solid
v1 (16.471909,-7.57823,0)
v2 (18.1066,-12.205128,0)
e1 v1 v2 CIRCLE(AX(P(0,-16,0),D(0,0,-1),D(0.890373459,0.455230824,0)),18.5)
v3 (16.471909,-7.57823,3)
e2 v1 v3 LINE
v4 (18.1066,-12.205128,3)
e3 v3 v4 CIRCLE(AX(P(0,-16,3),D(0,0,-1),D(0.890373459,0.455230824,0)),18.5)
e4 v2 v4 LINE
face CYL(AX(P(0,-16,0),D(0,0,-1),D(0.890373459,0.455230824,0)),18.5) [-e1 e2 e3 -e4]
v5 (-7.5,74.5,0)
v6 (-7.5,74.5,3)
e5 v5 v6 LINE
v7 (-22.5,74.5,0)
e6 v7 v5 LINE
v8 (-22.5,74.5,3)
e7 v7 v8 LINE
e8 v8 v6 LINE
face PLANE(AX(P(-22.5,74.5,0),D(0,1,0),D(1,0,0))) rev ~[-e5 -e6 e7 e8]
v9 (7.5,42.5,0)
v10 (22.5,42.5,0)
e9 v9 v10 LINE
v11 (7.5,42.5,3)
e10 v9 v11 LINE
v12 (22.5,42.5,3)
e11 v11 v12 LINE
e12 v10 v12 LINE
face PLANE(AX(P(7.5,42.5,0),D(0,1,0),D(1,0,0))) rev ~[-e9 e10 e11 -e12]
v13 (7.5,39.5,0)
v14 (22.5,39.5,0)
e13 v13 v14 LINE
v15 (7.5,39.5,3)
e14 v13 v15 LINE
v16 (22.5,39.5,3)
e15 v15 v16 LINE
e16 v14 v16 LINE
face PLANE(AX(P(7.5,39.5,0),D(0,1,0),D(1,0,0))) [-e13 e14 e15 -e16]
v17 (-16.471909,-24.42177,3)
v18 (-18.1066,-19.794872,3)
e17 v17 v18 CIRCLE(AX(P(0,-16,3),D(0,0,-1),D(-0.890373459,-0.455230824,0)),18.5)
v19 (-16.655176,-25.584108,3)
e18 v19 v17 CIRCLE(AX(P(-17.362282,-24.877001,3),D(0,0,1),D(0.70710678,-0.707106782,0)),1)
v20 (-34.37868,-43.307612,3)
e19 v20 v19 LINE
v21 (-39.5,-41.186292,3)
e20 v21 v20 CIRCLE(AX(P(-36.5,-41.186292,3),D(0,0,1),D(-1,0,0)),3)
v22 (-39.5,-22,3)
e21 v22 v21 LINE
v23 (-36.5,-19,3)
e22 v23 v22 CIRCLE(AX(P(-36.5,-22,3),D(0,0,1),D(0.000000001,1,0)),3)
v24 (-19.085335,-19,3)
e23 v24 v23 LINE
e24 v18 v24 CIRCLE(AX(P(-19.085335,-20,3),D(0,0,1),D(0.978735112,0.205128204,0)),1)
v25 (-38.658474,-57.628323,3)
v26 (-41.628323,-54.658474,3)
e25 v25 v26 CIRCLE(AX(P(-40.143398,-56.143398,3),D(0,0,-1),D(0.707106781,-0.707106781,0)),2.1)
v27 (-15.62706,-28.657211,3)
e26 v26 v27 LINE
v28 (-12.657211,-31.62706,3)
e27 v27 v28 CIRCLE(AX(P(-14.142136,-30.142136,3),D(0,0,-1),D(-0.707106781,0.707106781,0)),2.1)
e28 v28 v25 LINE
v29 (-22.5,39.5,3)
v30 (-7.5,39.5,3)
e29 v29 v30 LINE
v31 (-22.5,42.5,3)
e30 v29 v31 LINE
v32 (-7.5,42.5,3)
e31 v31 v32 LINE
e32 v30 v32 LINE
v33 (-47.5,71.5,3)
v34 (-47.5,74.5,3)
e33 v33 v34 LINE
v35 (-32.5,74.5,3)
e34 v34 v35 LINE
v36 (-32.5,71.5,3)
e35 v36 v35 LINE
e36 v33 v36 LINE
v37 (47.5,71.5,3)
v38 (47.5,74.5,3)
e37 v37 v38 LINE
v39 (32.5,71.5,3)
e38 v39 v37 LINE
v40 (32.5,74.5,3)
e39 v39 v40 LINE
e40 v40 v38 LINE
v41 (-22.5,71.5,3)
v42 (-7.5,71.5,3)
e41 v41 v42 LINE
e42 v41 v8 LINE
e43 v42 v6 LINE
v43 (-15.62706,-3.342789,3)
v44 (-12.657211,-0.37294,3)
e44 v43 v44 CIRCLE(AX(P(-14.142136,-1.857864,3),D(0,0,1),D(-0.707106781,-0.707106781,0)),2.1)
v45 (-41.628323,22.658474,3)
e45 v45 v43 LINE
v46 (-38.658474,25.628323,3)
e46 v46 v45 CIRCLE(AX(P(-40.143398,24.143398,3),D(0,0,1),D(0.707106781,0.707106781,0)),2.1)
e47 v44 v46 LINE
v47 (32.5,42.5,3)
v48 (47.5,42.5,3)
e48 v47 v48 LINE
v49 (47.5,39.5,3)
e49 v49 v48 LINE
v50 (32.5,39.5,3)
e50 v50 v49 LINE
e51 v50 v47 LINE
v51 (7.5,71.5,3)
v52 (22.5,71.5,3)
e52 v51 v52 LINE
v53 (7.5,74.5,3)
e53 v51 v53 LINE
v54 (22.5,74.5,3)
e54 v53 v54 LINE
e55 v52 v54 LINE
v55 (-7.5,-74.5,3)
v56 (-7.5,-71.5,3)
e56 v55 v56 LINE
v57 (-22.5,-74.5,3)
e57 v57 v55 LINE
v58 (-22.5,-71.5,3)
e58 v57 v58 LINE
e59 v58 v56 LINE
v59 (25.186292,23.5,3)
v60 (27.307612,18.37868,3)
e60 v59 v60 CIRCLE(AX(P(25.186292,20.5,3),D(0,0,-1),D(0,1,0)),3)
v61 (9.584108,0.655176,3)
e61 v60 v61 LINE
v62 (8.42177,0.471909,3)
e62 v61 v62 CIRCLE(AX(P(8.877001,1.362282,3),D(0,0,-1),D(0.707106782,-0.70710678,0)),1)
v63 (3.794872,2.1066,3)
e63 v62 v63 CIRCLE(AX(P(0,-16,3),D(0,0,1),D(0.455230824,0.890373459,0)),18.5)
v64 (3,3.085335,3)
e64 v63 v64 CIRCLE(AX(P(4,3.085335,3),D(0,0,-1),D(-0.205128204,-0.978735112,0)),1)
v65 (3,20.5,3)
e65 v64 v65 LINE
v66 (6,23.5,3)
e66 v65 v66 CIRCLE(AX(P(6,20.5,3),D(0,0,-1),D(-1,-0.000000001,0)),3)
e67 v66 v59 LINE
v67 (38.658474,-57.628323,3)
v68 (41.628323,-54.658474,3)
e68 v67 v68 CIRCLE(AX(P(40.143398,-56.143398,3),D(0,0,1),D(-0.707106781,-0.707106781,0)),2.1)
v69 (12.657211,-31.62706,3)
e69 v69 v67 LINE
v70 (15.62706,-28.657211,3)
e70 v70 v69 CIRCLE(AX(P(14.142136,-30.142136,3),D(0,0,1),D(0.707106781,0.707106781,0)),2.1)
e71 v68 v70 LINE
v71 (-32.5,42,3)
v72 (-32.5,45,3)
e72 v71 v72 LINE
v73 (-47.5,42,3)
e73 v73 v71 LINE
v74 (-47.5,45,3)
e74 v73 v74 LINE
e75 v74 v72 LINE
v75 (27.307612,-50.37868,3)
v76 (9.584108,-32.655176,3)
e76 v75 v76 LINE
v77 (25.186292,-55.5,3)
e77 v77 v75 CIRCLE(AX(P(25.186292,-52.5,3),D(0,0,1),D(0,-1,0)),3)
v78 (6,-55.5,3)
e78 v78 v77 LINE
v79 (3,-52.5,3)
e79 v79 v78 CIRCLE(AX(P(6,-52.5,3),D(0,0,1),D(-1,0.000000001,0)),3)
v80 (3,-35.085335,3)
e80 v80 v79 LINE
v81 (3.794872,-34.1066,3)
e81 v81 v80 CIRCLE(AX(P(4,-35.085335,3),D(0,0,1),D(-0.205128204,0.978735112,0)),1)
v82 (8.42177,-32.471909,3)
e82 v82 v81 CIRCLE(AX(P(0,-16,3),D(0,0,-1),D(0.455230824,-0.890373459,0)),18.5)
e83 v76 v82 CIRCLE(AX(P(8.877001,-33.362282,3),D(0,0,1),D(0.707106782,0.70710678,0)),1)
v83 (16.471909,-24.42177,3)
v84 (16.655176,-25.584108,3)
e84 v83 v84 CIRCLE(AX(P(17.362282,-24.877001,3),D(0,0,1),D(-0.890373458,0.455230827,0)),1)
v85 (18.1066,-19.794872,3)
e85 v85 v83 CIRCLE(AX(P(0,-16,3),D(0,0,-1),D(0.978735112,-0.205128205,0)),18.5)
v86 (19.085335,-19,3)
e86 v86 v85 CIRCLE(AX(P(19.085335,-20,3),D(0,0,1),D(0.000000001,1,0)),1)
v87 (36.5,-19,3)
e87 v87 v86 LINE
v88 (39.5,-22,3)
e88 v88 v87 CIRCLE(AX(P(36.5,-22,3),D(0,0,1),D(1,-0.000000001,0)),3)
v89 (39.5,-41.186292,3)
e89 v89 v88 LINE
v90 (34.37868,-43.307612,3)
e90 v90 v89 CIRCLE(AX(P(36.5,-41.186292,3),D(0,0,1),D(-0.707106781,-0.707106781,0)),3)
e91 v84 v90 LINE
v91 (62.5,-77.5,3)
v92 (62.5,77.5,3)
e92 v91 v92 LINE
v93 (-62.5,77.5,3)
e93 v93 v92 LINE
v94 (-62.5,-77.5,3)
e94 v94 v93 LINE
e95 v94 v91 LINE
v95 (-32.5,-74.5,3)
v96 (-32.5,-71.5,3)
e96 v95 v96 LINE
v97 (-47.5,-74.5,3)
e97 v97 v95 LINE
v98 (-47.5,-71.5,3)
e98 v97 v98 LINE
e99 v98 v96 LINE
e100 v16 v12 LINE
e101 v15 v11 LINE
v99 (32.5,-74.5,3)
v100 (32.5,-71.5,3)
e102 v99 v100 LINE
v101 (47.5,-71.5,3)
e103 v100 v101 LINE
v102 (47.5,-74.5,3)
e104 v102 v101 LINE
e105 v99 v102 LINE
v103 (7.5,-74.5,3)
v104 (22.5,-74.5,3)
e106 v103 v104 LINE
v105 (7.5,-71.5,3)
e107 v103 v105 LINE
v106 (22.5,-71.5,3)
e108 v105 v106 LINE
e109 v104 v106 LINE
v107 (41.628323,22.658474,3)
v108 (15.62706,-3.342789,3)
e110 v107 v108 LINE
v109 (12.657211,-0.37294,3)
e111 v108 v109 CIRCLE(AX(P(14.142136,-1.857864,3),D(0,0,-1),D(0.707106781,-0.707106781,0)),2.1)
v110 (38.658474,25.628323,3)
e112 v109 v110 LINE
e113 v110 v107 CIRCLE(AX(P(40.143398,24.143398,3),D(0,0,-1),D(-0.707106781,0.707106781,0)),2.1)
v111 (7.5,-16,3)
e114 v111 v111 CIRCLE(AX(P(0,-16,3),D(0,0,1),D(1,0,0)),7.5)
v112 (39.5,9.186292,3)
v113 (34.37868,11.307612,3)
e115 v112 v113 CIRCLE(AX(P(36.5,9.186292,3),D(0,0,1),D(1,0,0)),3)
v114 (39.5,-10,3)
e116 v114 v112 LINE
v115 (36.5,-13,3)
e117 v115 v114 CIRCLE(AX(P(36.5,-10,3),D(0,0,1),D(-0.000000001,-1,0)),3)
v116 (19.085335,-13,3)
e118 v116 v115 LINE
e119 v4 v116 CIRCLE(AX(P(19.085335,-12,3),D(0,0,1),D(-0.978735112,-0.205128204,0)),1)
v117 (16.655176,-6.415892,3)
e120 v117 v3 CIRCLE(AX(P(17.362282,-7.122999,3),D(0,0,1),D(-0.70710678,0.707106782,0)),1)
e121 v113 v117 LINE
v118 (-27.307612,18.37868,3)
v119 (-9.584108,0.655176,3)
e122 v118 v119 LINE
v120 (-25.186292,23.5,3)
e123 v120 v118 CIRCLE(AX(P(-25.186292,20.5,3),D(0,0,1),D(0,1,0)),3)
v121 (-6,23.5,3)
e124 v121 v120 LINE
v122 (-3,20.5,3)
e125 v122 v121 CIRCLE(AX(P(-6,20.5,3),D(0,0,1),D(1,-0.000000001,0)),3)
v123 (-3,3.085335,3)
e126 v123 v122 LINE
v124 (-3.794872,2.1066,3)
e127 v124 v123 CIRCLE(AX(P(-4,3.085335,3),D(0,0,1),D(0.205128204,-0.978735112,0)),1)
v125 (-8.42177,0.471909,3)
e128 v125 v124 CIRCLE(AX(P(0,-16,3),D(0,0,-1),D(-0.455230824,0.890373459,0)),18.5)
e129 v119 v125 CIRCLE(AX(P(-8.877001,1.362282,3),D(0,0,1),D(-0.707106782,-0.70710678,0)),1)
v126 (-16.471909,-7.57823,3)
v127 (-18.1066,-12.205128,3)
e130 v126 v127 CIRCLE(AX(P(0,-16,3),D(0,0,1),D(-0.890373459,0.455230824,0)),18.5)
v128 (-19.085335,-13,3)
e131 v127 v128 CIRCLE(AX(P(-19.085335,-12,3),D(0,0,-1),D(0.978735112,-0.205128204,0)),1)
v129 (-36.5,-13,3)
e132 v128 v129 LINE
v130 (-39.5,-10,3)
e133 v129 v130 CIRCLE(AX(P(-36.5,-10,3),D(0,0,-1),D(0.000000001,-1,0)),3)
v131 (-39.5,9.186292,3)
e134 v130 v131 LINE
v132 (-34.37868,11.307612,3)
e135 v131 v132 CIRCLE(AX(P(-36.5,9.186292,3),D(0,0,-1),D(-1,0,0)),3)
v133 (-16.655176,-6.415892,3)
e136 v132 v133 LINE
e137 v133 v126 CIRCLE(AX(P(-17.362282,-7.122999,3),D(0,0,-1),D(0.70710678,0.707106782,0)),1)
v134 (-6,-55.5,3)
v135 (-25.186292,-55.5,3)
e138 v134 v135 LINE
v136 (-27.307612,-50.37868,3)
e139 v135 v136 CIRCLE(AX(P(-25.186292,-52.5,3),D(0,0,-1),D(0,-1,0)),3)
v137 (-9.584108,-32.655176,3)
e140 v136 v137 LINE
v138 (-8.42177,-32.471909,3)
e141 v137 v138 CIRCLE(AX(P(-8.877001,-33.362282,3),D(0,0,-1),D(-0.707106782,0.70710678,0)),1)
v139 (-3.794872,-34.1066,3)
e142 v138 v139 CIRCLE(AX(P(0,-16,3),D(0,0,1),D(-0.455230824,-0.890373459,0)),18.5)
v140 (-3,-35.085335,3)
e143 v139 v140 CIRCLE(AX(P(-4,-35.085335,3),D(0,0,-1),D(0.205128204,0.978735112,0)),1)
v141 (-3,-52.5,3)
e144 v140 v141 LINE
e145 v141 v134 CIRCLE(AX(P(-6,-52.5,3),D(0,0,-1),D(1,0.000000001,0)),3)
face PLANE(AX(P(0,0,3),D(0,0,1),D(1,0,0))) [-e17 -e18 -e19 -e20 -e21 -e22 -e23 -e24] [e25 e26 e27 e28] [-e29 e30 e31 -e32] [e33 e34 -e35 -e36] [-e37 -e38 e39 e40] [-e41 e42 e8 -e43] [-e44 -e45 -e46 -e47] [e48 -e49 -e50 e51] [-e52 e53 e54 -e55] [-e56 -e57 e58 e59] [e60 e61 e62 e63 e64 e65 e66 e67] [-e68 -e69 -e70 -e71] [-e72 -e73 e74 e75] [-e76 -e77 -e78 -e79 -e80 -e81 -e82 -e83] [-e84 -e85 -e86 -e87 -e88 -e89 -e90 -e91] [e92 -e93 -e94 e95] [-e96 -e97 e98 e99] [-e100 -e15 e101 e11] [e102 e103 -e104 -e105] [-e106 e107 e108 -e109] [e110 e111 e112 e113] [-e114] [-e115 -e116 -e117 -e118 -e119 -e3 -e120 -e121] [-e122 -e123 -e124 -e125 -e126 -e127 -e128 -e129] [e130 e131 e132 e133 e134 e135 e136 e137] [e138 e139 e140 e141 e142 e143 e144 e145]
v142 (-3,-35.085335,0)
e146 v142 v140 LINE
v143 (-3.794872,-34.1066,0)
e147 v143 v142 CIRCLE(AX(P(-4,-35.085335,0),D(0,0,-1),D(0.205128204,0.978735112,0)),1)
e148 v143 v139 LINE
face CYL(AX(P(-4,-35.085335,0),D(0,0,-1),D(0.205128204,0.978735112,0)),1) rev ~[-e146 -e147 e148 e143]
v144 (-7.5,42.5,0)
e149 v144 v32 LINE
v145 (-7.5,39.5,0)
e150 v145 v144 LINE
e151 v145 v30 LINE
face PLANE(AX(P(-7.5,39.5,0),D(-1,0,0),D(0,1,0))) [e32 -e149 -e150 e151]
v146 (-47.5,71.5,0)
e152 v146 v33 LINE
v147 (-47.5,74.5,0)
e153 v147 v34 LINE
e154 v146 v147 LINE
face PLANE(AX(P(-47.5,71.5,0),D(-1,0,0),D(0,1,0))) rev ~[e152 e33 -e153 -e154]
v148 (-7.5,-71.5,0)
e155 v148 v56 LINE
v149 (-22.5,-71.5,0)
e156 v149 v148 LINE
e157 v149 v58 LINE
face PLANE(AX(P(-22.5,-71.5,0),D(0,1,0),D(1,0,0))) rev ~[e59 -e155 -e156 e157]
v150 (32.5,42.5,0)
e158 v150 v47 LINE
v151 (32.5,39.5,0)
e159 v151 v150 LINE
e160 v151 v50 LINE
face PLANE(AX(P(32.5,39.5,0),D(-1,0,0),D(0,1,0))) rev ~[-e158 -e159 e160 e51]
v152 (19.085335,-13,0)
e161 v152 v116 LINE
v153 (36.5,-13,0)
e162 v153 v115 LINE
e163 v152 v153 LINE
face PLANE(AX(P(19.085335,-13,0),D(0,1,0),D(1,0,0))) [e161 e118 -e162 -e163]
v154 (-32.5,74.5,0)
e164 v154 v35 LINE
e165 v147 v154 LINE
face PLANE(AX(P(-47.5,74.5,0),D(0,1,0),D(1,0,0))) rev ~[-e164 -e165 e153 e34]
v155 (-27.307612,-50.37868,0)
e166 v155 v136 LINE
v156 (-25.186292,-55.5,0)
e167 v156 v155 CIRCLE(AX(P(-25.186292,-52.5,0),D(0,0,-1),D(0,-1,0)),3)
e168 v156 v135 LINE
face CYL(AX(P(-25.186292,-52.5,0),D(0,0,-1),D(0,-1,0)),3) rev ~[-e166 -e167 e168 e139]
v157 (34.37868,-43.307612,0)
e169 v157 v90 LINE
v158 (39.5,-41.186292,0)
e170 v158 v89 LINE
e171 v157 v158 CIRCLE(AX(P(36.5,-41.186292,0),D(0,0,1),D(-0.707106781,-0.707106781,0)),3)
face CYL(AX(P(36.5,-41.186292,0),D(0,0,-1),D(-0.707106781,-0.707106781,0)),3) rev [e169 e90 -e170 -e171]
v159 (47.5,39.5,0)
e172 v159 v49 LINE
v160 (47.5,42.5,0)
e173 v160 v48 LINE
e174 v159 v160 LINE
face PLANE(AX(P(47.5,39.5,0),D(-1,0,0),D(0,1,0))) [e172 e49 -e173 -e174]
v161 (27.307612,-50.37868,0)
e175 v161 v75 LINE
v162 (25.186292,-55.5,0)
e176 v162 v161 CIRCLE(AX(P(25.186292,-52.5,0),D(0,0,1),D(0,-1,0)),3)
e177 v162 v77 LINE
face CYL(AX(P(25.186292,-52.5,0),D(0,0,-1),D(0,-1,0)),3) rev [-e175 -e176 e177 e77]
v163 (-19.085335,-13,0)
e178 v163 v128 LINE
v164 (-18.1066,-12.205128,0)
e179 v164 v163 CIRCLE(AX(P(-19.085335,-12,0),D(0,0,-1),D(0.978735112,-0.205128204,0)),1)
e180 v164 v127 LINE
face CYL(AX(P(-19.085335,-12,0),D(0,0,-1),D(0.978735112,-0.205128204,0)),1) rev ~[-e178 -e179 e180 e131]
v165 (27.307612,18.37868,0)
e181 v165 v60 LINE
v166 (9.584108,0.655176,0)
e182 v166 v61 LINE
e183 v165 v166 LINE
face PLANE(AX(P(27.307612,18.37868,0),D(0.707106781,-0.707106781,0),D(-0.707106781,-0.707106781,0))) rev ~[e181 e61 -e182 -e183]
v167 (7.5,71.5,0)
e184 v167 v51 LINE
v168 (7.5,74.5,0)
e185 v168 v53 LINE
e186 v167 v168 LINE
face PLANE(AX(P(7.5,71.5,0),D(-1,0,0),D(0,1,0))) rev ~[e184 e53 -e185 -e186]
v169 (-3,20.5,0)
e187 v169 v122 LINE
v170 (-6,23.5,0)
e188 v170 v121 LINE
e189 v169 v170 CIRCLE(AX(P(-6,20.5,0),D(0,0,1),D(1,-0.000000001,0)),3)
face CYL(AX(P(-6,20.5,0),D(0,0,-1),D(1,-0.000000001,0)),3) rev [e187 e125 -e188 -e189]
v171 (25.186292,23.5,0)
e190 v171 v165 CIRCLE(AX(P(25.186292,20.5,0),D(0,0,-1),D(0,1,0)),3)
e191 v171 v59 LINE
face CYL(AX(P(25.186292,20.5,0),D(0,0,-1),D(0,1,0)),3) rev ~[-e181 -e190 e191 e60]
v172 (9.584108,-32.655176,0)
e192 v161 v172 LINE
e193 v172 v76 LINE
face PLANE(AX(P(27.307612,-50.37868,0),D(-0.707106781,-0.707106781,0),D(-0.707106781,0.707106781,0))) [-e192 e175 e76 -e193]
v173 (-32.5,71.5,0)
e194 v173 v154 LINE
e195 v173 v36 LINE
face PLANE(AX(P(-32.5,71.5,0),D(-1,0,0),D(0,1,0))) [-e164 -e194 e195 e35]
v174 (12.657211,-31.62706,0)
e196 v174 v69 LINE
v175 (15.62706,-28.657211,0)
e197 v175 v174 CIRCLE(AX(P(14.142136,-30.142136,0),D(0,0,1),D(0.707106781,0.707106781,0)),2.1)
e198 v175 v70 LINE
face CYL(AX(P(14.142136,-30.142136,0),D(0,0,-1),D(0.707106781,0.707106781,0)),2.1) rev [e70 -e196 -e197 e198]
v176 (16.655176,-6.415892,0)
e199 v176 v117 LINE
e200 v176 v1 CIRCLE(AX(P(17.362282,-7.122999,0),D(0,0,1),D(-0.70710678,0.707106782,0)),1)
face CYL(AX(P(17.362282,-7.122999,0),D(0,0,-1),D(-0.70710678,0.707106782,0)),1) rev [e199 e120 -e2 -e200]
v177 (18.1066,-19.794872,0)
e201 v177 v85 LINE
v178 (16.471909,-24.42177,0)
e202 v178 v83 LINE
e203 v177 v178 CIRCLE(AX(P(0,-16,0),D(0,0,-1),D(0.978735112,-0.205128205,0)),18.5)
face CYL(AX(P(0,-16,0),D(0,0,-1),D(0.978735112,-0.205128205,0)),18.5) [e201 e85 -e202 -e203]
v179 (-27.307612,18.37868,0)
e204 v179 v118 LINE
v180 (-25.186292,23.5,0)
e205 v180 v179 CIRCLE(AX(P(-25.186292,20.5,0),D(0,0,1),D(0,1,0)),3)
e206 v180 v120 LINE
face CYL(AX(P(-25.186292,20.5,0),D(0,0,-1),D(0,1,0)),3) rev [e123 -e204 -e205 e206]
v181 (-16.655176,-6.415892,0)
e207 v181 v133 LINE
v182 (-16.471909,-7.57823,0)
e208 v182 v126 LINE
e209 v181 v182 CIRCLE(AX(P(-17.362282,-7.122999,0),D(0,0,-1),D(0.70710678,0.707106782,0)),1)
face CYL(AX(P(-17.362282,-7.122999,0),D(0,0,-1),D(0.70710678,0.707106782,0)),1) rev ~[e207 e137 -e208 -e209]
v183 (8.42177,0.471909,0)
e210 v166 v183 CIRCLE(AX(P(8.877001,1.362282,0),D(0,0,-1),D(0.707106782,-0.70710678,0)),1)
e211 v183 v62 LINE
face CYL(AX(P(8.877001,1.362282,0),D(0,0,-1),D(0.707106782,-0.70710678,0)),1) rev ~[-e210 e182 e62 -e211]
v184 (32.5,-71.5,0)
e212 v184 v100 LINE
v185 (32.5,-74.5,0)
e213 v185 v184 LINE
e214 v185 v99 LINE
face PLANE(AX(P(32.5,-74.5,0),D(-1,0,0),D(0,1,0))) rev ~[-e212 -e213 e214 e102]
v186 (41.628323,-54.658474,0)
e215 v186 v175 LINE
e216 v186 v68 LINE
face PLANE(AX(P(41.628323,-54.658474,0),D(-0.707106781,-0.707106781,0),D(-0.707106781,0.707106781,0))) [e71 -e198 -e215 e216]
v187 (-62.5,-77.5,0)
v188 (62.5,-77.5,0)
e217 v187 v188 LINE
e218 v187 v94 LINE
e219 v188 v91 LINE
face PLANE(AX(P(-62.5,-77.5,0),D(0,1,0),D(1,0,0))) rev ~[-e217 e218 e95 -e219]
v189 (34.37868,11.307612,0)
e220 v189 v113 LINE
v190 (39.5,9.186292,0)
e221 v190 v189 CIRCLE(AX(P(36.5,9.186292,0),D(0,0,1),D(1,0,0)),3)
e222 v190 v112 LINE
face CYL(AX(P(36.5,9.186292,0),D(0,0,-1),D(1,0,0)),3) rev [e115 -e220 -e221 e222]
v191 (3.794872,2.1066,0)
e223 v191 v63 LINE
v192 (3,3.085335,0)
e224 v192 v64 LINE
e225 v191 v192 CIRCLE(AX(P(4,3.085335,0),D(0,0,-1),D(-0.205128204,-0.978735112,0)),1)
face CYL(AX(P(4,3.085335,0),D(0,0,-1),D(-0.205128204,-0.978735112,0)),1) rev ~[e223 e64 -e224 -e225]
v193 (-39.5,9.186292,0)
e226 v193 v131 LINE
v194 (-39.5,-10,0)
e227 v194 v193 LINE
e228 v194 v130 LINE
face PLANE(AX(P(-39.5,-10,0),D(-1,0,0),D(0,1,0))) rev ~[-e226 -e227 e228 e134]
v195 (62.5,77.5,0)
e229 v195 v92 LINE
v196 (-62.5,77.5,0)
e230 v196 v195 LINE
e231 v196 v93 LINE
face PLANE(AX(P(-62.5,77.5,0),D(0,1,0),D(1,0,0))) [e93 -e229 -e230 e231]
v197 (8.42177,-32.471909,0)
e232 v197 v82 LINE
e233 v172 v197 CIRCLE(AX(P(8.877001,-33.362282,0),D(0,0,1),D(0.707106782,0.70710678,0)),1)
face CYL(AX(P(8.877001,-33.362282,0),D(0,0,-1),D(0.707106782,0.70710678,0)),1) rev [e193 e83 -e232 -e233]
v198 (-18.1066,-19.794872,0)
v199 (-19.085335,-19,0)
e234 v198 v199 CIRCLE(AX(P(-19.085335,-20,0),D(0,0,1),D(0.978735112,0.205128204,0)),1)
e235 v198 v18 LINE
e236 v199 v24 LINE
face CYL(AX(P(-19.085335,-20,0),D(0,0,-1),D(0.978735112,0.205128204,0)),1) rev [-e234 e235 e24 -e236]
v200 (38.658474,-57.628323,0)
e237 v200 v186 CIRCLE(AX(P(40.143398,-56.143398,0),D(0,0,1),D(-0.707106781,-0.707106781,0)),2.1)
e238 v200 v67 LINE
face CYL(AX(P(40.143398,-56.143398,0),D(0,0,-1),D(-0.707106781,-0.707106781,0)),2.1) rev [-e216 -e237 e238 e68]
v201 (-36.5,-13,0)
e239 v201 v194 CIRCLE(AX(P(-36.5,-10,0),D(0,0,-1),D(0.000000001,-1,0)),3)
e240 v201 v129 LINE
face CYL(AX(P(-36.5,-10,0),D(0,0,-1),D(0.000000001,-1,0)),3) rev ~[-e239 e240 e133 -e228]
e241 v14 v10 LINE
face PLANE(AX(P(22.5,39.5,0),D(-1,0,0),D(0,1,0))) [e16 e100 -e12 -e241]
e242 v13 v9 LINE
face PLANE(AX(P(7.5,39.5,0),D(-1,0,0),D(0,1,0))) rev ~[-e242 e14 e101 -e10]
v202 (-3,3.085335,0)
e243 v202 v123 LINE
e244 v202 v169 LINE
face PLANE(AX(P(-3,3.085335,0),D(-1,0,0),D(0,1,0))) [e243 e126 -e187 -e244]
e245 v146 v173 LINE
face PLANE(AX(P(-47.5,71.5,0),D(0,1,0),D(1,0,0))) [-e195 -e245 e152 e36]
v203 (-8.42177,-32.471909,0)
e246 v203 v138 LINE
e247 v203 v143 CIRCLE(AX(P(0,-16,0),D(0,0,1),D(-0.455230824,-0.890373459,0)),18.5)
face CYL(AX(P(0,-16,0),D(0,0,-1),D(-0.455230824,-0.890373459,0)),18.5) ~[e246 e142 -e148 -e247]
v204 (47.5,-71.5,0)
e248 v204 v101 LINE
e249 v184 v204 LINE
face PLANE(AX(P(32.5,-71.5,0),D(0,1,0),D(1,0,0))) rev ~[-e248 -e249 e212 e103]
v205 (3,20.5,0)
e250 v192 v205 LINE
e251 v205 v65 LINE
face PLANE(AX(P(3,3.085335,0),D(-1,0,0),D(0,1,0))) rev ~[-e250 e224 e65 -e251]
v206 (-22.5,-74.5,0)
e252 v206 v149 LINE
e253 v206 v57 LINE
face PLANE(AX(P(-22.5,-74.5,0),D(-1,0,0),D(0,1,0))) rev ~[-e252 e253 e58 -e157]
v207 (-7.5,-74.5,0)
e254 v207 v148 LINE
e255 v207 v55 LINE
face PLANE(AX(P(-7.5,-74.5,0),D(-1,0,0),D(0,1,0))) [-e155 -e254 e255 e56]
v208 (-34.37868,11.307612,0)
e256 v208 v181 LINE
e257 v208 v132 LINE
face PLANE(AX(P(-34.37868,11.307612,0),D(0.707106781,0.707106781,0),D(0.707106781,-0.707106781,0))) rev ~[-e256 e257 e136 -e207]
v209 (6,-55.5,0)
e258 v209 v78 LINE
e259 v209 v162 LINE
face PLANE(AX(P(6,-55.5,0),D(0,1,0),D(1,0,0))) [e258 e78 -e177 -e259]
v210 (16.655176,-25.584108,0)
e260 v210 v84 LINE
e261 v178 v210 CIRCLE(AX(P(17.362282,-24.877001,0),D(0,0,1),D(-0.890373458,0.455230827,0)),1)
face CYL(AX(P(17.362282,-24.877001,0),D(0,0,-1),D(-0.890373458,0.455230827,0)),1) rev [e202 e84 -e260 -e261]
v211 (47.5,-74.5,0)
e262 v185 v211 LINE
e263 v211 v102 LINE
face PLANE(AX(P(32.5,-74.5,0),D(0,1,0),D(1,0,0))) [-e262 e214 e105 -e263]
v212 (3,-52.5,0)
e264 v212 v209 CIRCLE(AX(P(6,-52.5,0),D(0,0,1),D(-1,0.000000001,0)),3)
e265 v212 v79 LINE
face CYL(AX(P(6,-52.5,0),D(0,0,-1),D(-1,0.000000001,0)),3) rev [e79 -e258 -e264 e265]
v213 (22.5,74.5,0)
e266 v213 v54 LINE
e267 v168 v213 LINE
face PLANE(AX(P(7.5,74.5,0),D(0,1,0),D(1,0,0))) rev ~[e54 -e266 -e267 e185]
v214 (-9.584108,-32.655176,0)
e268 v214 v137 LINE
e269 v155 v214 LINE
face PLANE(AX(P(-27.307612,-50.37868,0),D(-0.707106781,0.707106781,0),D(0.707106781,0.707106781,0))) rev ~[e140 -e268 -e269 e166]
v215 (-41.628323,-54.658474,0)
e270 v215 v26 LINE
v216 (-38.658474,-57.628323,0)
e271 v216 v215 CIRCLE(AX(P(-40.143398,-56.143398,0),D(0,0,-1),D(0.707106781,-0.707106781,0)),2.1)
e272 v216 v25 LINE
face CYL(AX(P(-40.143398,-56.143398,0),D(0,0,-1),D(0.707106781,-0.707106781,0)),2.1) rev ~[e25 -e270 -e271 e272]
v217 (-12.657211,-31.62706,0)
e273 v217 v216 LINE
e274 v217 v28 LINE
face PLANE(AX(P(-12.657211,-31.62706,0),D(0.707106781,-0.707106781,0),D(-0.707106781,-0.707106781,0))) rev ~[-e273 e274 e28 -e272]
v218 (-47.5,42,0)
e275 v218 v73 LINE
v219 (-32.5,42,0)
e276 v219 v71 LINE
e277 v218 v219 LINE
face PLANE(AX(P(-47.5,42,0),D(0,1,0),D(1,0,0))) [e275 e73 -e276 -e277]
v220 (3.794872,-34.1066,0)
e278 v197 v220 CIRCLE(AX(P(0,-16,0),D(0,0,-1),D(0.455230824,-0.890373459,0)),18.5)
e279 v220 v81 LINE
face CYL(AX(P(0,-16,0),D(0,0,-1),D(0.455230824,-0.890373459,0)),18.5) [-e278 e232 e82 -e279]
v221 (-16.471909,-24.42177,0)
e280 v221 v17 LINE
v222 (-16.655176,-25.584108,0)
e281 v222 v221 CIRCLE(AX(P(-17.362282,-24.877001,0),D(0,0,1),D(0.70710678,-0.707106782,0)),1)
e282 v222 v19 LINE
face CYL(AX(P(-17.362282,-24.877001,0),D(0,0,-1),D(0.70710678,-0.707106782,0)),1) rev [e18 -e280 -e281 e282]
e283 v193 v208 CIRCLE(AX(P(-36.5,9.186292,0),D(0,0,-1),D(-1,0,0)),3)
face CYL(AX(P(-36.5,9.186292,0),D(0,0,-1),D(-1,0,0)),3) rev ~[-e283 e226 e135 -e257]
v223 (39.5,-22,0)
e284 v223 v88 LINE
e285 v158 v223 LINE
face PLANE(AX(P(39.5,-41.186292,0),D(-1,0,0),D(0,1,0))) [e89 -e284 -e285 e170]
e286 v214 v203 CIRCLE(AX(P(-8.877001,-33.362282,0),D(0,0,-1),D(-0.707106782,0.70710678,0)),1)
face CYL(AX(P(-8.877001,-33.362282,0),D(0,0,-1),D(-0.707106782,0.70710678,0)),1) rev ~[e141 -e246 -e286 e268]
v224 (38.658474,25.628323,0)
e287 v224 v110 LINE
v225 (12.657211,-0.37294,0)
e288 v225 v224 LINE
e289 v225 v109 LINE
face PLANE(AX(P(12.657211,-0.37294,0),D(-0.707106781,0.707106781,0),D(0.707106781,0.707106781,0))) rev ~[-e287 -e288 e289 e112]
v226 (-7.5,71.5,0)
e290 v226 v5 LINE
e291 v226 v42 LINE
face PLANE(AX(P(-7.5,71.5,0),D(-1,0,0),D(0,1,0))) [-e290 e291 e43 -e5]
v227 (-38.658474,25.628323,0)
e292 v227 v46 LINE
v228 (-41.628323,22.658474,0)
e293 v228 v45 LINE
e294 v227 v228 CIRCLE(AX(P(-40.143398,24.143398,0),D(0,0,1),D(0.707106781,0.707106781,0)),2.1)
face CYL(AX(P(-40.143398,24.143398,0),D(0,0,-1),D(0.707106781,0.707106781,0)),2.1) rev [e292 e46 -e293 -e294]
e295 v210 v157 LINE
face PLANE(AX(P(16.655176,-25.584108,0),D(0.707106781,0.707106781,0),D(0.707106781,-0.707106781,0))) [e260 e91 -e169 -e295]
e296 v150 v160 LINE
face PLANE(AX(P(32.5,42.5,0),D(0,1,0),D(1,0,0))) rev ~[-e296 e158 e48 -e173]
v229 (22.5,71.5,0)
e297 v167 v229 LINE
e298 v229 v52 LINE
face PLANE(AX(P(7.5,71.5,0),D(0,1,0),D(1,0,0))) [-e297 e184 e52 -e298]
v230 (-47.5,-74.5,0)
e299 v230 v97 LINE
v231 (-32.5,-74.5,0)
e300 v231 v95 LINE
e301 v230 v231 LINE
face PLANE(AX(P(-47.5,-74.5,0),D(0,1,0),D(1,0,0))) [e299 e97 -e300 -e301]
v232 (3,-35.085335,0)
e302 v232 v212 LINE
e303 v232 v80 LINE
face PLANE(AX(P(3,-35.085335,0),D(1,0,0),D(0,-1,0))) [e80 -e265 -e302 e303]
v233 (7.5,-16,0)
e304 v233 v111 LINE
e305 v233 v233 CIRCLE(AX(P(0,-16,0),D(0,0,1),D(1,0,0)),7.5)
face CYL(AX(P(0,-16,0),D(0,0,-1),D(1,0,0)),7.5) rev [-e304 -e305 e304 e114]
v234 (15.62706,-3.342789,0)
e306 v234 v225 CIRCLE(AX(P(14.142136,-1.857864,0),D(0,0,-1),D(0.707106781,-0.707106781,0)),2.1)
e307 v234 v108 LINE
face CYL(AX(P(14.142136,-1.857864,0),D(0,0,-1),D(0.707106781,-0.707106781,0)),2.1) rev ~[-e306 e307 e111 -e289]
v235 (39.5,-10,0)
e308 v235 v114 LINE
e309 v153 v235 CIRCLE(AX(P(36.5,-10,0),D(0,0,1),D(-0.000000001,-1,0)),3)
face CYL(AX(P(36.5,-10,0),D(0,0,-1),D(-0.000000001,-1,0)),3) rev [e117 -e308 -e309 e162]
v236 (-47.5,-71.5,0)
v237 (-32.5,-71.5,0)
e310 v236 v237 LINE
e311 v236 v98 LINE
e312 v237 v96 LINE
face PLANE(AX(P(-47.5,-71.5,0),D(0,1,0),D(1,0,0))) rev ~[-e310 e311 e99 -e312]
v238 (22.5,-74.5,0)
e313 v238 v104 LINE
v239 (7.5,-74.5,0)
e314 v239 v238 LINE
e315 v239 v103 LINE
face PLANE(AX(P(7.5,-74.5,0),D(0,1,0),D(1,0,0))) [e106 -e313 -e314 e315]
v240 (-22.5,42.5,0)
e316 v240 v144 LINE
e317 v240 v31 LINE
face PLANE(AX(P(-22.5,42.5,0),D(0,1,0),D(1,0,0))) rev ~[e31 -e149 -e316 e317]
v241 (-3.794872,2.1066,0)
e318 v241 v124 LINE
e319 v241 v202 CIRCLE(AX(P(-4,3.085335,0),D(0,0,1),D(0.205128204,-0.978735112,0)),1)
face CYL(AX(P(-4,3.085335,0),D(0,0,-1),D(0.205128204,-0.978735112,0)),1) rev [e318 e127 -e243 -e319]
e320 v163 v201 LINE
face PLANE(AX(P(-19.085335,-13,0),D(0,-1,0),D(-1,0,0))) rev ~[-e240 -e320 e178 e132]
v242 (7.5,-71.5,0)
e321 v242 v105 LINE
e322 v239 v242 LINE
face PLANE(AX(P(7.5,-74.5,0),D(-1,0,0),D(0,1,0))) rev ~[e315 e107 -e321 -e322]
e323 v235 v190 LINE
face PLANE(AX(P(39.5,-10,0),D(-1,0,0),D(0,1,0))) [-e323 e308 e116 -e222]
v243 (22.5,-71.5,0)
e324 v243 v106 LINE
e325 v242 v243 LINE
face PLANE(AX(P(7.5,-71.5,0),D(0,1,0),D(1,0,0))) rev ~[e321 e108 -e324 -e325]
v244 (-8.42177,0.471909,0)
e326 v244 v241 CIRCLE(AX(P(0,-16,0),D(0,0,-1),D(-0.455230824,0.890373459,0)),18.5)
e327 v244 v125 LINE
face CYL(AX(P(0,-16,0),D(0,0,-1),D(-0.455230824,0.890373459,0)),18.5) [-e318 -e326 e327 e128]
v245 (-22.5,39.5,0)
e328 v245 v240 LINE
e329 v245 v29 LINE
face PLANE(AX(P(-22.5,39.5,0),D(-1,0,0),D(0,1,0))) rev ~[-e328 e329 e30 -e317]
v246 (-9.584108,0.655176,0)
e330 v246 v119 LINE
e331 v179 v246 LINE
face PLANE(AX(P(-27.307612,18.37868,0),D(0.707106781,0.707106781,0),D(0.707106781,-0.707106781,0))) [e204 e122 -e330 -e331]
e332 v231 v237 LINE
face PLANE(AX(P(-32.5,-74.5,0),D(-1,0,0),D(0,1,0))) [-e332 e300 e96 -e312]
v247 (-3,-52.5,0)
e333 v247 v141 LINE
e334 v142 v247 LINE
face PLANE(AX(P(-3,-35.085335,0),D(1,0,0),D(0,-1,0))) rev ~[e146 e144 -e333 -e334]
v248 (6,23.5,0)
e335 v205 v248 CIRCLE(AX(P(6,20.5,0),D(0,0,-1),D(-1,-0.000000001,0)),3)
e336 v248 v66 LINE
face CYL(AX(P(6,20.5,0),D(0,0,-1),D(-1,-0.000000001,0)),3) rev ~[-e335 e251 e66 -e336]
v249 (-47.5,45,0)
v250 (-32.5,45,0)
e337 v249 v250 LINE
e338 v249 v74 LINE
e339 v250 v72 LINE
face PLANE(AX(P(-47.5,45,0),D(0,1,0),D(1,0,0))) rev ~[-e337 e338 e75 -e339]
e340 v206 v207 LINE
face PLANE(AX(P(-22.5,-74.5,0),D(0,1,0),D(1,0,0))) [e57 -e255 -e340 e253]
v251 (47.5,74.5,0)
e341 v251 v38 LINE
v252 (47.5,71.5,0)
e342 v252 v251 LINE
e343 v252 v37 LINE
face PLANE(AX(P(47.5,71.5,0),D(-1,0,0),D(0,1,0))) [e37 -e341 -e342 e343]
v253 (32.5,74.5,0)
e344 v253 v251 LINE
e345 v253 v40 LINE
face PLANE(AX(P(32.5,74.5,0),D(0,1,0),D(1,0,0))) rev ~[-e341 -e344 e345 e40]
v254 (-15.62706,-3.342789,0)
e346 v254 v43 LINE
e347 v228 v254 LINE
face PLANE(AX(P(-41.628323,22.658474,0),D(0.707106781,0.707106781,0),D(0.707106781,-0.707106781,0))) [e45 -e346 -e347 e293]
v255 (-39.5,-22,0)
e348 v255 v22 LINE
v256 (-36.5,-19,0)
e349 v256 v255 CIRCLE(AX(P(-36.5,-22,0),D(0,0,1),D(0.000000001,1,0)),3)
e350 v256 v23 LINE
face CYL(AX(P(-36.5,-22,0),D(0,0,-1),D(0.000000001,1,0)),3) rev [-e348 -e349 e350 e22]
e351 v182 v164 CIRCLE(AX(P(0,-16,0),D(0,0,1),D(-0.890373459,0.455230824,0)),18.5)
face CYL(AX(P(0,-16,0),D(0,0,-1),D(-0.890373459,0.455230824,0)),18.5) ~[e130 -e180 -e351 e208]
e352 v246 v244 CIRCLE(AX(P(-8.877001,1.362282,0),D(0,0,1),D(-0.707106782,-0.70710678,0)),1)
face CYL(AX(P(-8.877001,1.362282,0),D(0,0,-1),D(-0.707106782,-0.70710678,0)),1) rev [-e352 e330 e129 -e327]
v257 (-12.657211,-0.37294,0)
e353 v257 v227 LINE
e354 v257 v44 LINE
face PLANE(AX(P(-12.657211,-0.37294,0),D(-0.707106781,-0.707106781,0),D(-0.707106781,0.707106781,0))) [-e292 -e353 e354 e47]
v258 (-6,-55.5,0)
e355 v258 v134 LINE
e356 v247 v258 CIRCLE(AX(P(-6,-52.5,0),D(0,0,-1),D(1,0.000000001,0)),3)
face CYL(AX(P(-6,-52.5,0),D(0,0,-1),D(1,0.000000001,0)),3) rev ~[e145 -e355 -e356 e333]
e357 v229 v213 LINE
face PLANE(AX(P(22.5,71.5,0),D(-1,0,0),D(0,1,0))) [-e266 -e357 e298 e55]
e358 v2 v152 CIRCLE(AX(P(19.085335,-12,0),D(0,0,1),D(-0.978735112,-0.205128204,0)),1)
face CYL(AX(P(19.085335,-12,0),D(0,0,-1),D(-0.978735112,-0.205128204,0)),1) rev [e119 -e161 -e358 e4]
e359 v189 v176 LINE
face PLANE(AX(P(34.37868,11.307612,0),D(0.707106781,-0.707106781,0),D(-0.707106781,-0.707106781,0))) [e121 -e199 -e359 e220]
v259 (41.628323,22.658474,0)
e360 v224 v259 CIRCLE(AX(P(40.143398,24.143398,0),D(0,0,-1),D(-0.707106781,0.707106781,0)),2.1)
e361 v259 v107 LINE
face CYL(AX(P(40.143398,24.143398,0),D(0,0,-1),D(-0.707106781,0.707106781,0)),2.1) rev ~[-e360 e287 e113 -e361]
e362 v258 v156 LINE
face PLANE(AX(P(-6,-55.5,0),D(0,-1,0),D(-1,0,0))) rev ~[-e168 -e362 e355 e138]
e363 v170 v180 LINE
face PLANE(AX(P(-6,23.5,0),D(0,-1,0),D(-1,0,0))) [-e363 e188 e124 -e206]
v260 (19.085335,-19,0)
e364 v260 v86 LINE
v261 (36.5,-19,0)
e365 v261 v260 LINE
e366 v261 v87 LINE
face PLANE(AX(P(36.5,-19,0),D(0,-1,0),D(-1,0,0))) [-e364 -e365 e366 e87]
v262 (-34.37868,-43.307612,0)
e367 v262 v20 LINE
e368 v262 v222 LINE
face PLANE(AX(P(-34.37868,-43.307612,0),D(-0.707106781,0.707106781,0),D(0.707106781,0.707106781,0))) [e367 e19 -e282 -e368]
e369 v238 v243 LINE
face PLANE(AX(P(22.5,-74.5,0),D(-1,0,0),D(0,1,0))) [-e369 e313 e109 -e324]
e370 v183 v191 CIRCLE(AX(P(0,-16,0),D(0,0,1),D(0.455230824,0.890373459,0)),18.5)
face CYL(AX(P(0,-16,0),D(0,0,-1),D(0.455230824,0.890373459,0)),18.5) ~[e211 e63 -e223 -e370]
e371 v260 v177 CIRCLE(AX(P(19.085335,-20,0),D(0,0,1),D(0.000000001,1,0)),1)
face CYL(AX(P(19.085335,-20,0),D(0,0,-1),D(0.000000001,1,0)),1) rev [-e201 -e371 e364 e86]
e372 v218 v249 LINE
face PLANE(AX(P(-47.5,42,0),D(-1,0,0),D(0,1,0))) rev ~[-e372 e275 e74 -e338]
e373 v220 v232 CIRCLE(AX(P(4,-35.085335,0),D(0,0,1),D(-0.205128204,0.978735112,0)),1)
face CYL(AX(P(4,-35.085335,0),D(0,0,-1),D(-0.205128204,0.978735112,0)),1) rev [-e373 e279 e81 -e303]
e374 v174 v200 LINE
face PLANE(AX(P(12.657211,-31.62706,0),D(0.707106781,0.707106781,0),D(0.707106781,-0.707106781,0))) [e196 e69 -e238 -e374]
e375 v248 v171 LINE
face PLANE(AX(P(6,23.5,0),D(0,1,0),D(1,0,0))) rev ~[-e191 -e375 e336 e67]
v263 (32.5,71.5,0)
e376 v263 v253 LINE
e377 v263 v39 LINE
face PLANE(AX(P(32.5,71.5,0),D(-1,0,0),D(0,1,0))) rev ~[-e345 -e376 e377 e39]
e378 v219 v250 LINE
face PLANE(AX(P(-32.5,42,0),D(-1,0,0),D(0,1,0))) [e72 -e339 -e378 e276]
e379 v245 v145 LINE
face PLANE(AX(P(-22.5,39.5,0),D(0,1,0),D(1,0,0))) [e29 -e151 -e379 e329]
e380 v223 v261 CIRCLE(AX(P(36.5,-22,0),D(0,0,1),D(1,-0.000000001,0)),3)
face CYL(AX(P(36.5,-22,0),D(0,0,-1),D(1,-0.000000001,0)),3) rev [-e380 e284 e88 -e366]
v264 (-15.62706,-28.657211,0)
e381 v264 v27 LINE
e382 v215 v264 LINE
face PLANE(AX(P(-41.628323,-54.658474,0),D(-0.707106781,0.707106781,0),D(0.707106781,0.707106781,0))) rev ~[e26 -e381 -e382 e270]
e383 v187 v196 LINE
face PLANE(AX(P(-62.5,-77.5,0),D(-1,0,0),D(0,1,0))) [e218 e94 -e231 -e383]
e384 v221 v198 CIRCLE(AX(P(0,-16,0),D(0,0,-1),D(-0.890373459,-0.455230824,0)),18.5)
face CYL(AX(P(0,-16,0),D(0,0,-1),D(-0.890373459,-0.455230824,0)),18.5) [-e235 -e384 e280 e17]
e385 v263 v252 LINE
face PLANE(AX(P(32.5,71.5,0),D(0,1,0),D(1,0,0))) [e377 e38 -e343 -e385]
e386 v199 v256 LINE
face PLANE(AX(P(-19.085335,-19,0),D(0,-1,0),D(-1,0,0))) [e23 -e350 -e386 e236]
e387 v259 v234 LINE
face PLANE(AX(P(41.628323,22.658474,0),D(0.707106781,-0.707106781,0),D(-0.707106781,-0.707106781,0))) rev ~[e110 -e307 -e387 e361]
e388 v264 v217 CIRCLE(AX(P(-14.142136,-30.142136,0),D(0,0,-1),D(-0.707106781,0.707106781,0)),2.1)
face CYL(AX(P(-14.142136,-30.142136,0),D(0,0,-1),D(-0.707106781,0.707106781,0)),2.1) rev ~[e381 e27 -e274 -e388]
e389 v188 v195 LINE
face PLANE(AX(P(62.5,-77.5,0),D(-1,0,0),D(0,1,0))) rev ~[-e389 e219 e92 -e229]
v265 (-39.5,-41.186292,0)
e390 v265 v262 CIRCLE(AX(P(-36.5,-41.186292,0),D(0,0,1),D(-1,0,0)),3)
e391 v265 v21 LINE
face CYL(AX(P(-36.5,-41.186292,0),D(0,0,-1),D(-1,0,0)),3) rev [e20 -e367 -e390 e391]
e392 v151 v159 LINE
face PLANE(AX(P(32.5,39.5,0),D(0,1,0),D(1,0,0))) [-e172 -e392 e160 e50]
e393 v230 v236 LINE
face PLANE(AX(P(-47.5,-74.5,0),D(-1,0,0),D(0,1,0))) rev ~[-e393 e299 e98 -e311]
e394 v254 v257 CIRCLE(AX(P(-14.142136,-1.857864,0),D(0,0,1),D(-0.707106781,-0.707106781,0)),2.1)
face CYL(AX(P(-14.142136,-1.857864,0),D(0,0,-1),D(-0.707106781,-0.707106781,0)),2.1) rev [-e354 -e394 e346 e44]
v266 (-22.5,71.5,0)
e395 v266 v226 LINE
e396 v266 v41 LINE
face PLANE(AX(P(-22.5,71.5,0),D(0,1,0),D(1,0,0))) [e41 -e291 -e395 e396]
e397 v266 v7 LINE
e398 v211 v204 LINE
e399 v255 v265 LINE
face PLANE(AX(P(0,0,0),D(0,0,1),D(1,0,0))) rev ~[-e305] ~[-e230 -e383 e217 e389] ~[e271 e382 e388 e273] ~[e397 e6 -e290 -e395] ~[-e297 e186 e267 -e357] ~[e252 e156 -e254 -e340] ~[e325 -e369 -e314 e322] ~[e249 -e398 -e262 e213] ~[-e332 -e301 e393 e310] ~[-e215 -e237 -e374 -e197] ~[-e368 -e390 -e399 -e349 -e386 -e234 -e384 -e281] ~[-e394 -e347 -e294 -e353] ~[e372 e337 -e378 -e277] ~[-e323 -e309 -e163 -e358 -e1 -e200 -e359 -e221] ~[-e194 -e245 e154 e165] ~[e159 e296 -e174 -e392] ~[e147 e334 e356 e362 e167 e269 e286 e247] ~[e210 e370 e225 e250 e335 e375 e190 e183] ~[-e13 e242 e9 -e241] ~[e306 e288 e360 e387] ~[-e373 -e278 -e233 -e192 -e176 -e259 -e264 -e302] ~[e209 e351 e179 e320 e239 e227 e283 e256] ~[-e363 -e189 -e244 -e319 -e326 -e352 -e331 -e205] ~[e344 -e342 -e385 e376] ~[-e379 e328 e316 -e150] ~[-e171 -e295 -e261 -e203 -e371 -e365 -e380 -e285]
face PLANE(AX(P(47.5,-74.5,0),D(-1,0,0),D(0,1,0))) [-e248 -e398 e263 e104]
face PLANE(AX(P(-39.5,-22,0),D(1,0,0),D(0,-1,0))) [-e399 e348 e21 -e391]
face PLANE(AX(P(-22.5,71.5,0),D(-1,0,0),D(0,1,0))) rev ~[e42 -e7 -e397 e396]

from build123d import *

# Parameters (mm, degrees)
SKETCH1_W           = 125
SKETCH1_H           = 155
SKETCH1_R           = 7.5
SKETCH1_W_2         = 15
SKETCH1_H_2         = 3
BOSS_EXTRUDE1_DEPTH = 3


with BuildPart() as part:
    # Sketch1 → Boss-Extrude1 (new body)
    with BuildSketch(Plane.XY):
        Rectangle(SKETCH1_W, SKETCH1_H)
        with Locations((0, -16)):
            Circle(SKETCH1_R, mode=Mode.SUBTRACT)
        with Locations((15, 73)):
            Rectangle(SKETCH1_W_2, SKETCH1_H_2, mode=Mode.SUBTRACT)
        with Locations((-40, 73)):
            Rectangle(SKETCH1_W_2, SKETCH1_H_2, mode=Mode.SUBTRACT)
        with Locations((-15, 73)):
            Rectangle(SKETCH1_W_2, SKETCH1_H_2, mode=Mode.SUBTRACT)
        with Locations((40, 73)):
            Rectangle(SKETCH1_W_2, SKETCH1_H_2, mode=Mode.SUBTRACT)
        with Locations((40, -73)):
            Rectangle(SKETCH1_W_2, SKETCH1_H_2, mode=Mode.SUBTRACT)
        with Locations((15, -73)):
            Rectangle(SKETCH1_W_2, SKETCH1_H_2, mode=Mode.SUBTRACT)
        with Locations((-15, -73)):
            Rectangle(SKETCH1_W_2, SKETCH1_H_2, mode=Mode.SUBTRACT)
        with Locations((-40, -73)):
            Rectangle(SKETCH1_W_2, SKETCH1_H_2, mode=Mode.SUBTRACT)
        with Locations((15, 41)):
            Rectangle(SKETCH1_W_2, SKETCH1_H_2, mode=Mode.SUBTRACT)
        with Locations((-15, 41)):
            Rectangle(SKETCH1_W_2, SKETCH1_H_2, mode=Mode.SUBTRACT)
        with BuildLine():
            Line((39.5, -10), (39.5, 9.186291501))
            ThreePointArc((39.5, 9.186291501), (37.648050297, 11.957930099), (34.378679656, 11.307611845))
            Line((34.378679656, 11.307611845), (16.655175669, -6.415892143))
            ThreePointArc((16.655175669, -6.415892143), (16.374485428, -6.967252196), (16.471908992, -7.578229748))
            ThreePointArc((16.471908992, -7.578229748), (17.443347183, -9.83723771), (18.106599572, -12.205128205))
            ThreePointArc((18.106599572, -12.205128205), (18.454909512, -12.776250026), (19.085334684, -13))
            Line((19.085334684, -13), (36.5, -13))
            ThreePointArc((36.5, -13), (38.621320344, -12.121320344), (39.5, -10))
        make_face(mode=Mode.SUBTRACT)
        with BuildLine():
            Line((3, -35.085334684), (3, -52.5))
            ThreePointArc((3, -52.5), (3.878679656, -54.621320344), (6, -55.5))
            Line((6, -55.5), (25.186291501, -55.5))
            ThreePointArc((25.186291501, -55.5), (27.957930099, -53.648050297), (27.307611845, -50.378679656))
            Line((27.307611845, -50.378679656), (9.584107857, -32.655175669))
            ThreePointArc((9.584107857, -32.655175669), (9.032747804, -32.374485428), (8.421770252, -32.471908992))
            ThreePointArc((8.421770252, -32.471908992), (6.16276229, -33.443347183), (3.794871795, -34.106599572))
            ThreePointArc((3.794871795, -34.106599572), (3.223749974, -34.454909512), (3, -35.085334684))
        make_face(mode=Mode.SUBTRACT)
        with BuildLine():
            Line((16.655175669, -25.584107857), (34.378679656, -43.307611845))
            ThreePointArc((34.378679656, -43.307611845), (37.648050297, -43.957930099), (39.5, -41.186291501))
            Line((39.5, -41.186291501), (39.5, -22))
            ThreePointArc((39.5, -22), (38.621320344, -19.878679656), (36.5, -19))
            Line((36.5, -19), (19.085334684, -19))
            ThreePointArc((19.085334684, -19), (18.454909512, -19.223749974), (18.106599572, -19.794871795))
            ThreePointArc((18.106599572, -19.794871795), (17.443347183, -22.16276229), (16.471908992, -24.421770252))
            ThreePointArc((16.471908992, -24.421770252), (16.374485428, -25.032747804), (16.655175669, -25.584107857))
        make_face(mode=Mode.SUBTRACT)
        with BuildLine():
            Line((6, 23.5), (25.186291501, 23.5))
            ThreePointArc((25.186291501, 23.5), (27.957930099, 21.648050297), (27.307611845, 18.378679656))
            Line((27.307611845, 18.378679656), (9.584107857, 0.655175669))
            ThreePointArc((9.584107857, 0.655175669), (9.032747804, 0.374485428), (8.421770252, 0.471908992))
            ThreePointArc((8.421770252, 0.471908992), (6.16276229, 1.443347183), (3.794871795, 2.106599572))
            ThreePointArc((3.794871795, 2.106599572), (3.223749974, 2.454909512), (3, 3.085334684))
            Line((3, 3.085334684), (3, 20.5))
            ThreePointArc((3, 20.5), (3.878679656, 22.621320344), (6, 23.5))
        make_face(mode=Mode.SUBTRACT)
        with BuildLine():
            Line((-3, 3.085334684), (-3, 20.5))
            ThreePointArc((-3, 20.5), (-3.878679656, 22.621320344), (-6, 23.5))
            Line((-6, 23.5), (-25.186291501, 23.5))
            ThreePointArc((-25.186291501, 23.5), (-27.957930099, 21.648050297), (-27.307611845, 18.378679656))
            Line((-27.307611845, 18.378679656), (-9.584107857, 0.655175669))
            ThreePointArc((-9.584107857, 0.655175669), (-9.032747804, 0.374485428), (-8.421770252, 0.471908992))
            ThreePointArc((-8.421770252, 0.471908992), (-6.16276229, 1.443347183), (-3.794871795, 2.106599572))
            ThreePointArc((-3.794871795, 2.106599572), (-3.223749974, 2.454909512), (-3, 3.085334684))
        make_face(mode=Mode.SUBTRACT)
        with BuildLine():
            Line((-39.5, -10), (-39.5, 9.186291501))
            ThreePointArc((-39.5, 9.186291501), (-37.648050297, 11.957930099), (-34.378679656, 11.307611845))
            Line((-34.378679656, 11.307611845), (-16.655175669, -6.415892143))
            ThreePointArc((-16.655175669, -6.415892143), (-16.374485428, -6.967252196), (-16.471908992, -7.578229748))
            ThreePointArc((-16.471908992, -7.578229748), (-17.443347183, -9.83723771), (-18.106599572, -12.205128205))
            ThreePointArc((-18.106599572, -12.205128205), (-18.454909512, -12.776250026), (-19.085334684, -13))
            Line((-19.085334684, -13), (-36.5, -13))
            ThreePointArc((-36.5, -13), (-38.621320344, -12.121320344), (-39.5, -10))
        make_face(mode=Mode.SUBTRACT)
        with BuildLine():
            Line((-19.085334684, -19), (-36.5, -19))
            ThreePointArc((-36.5, -19), (-38.621320344, -19.878679656), (-39.5, -22))
            Line((-39.5, -22), (-39.5, -41.186291501))
            ThreePointArc((-39.5, -41.186291501), (-37.648050297, -43.957930099), (-34.378679656, -43.307611845))
            Line((-34.378679656, -43.307611845), (-16.655175669, -25.584107857))
            ThreePointArc((-16.655175669, -25.584107857), (-16.374485428, -25.032747804), (-16.471908992, -24.421770252))
            ThreePointArc((-16.471908992, -24.421770252), (-17.443347183, -22.16276229), (-18.106599572, -19.794871795))
            ThreePointArc((-18.106599572, -19.794871795), (-18.454909512, -19.223749974), (-19.085334684, -19))
        make_face(mode=Mode.SUBTRACT)
        with BuildLine():
            Line((-3, -35.085334684), (-3, -52.5))
            ThreePointArc((-3, -52.5), (-3.878679656, -54.621320344), (-6, -55.5))
            Line((-6, -55.5), (-25.186291501, -55.5))
            ThreePointArc((-25.186291501, -55.5), (-27.957930099, -53.648050297), (-27.307611845, -50.378679656))
            Line((-27.307611845, -50.378679656), (-9.584107857, -32.655175669))
            ThreePointArc((-9.584107857, -32.655175669), (-9.032747804, -32.374485428), (-8.421770252, -32.471908992))
            ThreePointArc((-8.421770252, -32.471908992), (-6.16276229, -33.443347183), (-3.794871795, -34.106599572))
            ThreePointArc((-3.794871795, -34.106599572), (-3.223749974, -34.454909512), (-3, -35.085334684))
        make_face(mode=Mode.SUBTRACT)
        with BuildLine():
            Line((12.657211383, -0.372940136), (38.658474042, 25.628322523))
            ThreePointArc((38.658474042, 25.628322523), (41.628322523, 25.628322523), (41.628322523, 22.658474042))
            Line((41.628322523, 22.658474042), (15.627059864, -3.342788617))
            ThreePointArc((15.627059864, -3.342788617), (12.657211383, -3.342788617), (12.657211383, -0.372940136))
        make_face(mode=Mode.SUBTRACT)
        with BuildLine():
            Line((12.657211383, -31.627059864), (38.658474042, -57.628322523))
            ThreePointArc((38.658474042, -57.628322523), (41.628322523, -57.628322523), (41.628322523, -54.658474042))
            Line((41.628322523, -54.658474042), (15.627059864, -28.657211383))
            ThreePointArc((15.627059864, -28.657211383), (12.657211383, -28.657211383), (12.657211383, -31.627059864))
        make_face(mode=Mode.SUBTRACT)
        with BuildLine():
            Line((-12.657211383, -31.627059864), (-38.658474042, -57.628322523))
            ThreePointArc((-38.658474042, -57.628322523), (-41.628322523, -57.628322523), (-41.628322523, -54.658474042))
            Line((-41.628322523, -54.658474042), (-15.627059864, -28.657211383))
            ThreePointArc((-15.627059864, -28.657211383), (-12.657211383, -28.657211383), (-12.657211383, -31.627059864))
        make_face(mode=Mode.SUBTRACT)
        with BuildLine():
            Line((-12.657211383, -0.372940136), (-38.658474042, 25.628322523))
            ThreePointArc((-38.658474042, 25.628322523), (-41.628322523, 25.628322523), (-41.628322523, 22.658474042))
            Line((-41.628322523, 22.658474042), (-15.627059864, -3.342788617))
            ThreePointArc((-15.627059864, -3.342788617), (-12.657211383, -3.342788617), (-12.657211383, -0.372940136))
        make_face(mode=Mode.SUBTRACT)
        with Locations((40, 41)):
            Rectangle(SKETCH1_W_2, SKETCH1_H_2, mode=Mode.SUBTRACT)
        with Locations((-40, 43.5)):
            Rectangle(SKETCH1_W_2, SKETCH1_H_2, mode=Mode.SUBTRACT)
    extrude(amount=BOSS_EXTRUDE1_DEPTH)


solid = part.part
